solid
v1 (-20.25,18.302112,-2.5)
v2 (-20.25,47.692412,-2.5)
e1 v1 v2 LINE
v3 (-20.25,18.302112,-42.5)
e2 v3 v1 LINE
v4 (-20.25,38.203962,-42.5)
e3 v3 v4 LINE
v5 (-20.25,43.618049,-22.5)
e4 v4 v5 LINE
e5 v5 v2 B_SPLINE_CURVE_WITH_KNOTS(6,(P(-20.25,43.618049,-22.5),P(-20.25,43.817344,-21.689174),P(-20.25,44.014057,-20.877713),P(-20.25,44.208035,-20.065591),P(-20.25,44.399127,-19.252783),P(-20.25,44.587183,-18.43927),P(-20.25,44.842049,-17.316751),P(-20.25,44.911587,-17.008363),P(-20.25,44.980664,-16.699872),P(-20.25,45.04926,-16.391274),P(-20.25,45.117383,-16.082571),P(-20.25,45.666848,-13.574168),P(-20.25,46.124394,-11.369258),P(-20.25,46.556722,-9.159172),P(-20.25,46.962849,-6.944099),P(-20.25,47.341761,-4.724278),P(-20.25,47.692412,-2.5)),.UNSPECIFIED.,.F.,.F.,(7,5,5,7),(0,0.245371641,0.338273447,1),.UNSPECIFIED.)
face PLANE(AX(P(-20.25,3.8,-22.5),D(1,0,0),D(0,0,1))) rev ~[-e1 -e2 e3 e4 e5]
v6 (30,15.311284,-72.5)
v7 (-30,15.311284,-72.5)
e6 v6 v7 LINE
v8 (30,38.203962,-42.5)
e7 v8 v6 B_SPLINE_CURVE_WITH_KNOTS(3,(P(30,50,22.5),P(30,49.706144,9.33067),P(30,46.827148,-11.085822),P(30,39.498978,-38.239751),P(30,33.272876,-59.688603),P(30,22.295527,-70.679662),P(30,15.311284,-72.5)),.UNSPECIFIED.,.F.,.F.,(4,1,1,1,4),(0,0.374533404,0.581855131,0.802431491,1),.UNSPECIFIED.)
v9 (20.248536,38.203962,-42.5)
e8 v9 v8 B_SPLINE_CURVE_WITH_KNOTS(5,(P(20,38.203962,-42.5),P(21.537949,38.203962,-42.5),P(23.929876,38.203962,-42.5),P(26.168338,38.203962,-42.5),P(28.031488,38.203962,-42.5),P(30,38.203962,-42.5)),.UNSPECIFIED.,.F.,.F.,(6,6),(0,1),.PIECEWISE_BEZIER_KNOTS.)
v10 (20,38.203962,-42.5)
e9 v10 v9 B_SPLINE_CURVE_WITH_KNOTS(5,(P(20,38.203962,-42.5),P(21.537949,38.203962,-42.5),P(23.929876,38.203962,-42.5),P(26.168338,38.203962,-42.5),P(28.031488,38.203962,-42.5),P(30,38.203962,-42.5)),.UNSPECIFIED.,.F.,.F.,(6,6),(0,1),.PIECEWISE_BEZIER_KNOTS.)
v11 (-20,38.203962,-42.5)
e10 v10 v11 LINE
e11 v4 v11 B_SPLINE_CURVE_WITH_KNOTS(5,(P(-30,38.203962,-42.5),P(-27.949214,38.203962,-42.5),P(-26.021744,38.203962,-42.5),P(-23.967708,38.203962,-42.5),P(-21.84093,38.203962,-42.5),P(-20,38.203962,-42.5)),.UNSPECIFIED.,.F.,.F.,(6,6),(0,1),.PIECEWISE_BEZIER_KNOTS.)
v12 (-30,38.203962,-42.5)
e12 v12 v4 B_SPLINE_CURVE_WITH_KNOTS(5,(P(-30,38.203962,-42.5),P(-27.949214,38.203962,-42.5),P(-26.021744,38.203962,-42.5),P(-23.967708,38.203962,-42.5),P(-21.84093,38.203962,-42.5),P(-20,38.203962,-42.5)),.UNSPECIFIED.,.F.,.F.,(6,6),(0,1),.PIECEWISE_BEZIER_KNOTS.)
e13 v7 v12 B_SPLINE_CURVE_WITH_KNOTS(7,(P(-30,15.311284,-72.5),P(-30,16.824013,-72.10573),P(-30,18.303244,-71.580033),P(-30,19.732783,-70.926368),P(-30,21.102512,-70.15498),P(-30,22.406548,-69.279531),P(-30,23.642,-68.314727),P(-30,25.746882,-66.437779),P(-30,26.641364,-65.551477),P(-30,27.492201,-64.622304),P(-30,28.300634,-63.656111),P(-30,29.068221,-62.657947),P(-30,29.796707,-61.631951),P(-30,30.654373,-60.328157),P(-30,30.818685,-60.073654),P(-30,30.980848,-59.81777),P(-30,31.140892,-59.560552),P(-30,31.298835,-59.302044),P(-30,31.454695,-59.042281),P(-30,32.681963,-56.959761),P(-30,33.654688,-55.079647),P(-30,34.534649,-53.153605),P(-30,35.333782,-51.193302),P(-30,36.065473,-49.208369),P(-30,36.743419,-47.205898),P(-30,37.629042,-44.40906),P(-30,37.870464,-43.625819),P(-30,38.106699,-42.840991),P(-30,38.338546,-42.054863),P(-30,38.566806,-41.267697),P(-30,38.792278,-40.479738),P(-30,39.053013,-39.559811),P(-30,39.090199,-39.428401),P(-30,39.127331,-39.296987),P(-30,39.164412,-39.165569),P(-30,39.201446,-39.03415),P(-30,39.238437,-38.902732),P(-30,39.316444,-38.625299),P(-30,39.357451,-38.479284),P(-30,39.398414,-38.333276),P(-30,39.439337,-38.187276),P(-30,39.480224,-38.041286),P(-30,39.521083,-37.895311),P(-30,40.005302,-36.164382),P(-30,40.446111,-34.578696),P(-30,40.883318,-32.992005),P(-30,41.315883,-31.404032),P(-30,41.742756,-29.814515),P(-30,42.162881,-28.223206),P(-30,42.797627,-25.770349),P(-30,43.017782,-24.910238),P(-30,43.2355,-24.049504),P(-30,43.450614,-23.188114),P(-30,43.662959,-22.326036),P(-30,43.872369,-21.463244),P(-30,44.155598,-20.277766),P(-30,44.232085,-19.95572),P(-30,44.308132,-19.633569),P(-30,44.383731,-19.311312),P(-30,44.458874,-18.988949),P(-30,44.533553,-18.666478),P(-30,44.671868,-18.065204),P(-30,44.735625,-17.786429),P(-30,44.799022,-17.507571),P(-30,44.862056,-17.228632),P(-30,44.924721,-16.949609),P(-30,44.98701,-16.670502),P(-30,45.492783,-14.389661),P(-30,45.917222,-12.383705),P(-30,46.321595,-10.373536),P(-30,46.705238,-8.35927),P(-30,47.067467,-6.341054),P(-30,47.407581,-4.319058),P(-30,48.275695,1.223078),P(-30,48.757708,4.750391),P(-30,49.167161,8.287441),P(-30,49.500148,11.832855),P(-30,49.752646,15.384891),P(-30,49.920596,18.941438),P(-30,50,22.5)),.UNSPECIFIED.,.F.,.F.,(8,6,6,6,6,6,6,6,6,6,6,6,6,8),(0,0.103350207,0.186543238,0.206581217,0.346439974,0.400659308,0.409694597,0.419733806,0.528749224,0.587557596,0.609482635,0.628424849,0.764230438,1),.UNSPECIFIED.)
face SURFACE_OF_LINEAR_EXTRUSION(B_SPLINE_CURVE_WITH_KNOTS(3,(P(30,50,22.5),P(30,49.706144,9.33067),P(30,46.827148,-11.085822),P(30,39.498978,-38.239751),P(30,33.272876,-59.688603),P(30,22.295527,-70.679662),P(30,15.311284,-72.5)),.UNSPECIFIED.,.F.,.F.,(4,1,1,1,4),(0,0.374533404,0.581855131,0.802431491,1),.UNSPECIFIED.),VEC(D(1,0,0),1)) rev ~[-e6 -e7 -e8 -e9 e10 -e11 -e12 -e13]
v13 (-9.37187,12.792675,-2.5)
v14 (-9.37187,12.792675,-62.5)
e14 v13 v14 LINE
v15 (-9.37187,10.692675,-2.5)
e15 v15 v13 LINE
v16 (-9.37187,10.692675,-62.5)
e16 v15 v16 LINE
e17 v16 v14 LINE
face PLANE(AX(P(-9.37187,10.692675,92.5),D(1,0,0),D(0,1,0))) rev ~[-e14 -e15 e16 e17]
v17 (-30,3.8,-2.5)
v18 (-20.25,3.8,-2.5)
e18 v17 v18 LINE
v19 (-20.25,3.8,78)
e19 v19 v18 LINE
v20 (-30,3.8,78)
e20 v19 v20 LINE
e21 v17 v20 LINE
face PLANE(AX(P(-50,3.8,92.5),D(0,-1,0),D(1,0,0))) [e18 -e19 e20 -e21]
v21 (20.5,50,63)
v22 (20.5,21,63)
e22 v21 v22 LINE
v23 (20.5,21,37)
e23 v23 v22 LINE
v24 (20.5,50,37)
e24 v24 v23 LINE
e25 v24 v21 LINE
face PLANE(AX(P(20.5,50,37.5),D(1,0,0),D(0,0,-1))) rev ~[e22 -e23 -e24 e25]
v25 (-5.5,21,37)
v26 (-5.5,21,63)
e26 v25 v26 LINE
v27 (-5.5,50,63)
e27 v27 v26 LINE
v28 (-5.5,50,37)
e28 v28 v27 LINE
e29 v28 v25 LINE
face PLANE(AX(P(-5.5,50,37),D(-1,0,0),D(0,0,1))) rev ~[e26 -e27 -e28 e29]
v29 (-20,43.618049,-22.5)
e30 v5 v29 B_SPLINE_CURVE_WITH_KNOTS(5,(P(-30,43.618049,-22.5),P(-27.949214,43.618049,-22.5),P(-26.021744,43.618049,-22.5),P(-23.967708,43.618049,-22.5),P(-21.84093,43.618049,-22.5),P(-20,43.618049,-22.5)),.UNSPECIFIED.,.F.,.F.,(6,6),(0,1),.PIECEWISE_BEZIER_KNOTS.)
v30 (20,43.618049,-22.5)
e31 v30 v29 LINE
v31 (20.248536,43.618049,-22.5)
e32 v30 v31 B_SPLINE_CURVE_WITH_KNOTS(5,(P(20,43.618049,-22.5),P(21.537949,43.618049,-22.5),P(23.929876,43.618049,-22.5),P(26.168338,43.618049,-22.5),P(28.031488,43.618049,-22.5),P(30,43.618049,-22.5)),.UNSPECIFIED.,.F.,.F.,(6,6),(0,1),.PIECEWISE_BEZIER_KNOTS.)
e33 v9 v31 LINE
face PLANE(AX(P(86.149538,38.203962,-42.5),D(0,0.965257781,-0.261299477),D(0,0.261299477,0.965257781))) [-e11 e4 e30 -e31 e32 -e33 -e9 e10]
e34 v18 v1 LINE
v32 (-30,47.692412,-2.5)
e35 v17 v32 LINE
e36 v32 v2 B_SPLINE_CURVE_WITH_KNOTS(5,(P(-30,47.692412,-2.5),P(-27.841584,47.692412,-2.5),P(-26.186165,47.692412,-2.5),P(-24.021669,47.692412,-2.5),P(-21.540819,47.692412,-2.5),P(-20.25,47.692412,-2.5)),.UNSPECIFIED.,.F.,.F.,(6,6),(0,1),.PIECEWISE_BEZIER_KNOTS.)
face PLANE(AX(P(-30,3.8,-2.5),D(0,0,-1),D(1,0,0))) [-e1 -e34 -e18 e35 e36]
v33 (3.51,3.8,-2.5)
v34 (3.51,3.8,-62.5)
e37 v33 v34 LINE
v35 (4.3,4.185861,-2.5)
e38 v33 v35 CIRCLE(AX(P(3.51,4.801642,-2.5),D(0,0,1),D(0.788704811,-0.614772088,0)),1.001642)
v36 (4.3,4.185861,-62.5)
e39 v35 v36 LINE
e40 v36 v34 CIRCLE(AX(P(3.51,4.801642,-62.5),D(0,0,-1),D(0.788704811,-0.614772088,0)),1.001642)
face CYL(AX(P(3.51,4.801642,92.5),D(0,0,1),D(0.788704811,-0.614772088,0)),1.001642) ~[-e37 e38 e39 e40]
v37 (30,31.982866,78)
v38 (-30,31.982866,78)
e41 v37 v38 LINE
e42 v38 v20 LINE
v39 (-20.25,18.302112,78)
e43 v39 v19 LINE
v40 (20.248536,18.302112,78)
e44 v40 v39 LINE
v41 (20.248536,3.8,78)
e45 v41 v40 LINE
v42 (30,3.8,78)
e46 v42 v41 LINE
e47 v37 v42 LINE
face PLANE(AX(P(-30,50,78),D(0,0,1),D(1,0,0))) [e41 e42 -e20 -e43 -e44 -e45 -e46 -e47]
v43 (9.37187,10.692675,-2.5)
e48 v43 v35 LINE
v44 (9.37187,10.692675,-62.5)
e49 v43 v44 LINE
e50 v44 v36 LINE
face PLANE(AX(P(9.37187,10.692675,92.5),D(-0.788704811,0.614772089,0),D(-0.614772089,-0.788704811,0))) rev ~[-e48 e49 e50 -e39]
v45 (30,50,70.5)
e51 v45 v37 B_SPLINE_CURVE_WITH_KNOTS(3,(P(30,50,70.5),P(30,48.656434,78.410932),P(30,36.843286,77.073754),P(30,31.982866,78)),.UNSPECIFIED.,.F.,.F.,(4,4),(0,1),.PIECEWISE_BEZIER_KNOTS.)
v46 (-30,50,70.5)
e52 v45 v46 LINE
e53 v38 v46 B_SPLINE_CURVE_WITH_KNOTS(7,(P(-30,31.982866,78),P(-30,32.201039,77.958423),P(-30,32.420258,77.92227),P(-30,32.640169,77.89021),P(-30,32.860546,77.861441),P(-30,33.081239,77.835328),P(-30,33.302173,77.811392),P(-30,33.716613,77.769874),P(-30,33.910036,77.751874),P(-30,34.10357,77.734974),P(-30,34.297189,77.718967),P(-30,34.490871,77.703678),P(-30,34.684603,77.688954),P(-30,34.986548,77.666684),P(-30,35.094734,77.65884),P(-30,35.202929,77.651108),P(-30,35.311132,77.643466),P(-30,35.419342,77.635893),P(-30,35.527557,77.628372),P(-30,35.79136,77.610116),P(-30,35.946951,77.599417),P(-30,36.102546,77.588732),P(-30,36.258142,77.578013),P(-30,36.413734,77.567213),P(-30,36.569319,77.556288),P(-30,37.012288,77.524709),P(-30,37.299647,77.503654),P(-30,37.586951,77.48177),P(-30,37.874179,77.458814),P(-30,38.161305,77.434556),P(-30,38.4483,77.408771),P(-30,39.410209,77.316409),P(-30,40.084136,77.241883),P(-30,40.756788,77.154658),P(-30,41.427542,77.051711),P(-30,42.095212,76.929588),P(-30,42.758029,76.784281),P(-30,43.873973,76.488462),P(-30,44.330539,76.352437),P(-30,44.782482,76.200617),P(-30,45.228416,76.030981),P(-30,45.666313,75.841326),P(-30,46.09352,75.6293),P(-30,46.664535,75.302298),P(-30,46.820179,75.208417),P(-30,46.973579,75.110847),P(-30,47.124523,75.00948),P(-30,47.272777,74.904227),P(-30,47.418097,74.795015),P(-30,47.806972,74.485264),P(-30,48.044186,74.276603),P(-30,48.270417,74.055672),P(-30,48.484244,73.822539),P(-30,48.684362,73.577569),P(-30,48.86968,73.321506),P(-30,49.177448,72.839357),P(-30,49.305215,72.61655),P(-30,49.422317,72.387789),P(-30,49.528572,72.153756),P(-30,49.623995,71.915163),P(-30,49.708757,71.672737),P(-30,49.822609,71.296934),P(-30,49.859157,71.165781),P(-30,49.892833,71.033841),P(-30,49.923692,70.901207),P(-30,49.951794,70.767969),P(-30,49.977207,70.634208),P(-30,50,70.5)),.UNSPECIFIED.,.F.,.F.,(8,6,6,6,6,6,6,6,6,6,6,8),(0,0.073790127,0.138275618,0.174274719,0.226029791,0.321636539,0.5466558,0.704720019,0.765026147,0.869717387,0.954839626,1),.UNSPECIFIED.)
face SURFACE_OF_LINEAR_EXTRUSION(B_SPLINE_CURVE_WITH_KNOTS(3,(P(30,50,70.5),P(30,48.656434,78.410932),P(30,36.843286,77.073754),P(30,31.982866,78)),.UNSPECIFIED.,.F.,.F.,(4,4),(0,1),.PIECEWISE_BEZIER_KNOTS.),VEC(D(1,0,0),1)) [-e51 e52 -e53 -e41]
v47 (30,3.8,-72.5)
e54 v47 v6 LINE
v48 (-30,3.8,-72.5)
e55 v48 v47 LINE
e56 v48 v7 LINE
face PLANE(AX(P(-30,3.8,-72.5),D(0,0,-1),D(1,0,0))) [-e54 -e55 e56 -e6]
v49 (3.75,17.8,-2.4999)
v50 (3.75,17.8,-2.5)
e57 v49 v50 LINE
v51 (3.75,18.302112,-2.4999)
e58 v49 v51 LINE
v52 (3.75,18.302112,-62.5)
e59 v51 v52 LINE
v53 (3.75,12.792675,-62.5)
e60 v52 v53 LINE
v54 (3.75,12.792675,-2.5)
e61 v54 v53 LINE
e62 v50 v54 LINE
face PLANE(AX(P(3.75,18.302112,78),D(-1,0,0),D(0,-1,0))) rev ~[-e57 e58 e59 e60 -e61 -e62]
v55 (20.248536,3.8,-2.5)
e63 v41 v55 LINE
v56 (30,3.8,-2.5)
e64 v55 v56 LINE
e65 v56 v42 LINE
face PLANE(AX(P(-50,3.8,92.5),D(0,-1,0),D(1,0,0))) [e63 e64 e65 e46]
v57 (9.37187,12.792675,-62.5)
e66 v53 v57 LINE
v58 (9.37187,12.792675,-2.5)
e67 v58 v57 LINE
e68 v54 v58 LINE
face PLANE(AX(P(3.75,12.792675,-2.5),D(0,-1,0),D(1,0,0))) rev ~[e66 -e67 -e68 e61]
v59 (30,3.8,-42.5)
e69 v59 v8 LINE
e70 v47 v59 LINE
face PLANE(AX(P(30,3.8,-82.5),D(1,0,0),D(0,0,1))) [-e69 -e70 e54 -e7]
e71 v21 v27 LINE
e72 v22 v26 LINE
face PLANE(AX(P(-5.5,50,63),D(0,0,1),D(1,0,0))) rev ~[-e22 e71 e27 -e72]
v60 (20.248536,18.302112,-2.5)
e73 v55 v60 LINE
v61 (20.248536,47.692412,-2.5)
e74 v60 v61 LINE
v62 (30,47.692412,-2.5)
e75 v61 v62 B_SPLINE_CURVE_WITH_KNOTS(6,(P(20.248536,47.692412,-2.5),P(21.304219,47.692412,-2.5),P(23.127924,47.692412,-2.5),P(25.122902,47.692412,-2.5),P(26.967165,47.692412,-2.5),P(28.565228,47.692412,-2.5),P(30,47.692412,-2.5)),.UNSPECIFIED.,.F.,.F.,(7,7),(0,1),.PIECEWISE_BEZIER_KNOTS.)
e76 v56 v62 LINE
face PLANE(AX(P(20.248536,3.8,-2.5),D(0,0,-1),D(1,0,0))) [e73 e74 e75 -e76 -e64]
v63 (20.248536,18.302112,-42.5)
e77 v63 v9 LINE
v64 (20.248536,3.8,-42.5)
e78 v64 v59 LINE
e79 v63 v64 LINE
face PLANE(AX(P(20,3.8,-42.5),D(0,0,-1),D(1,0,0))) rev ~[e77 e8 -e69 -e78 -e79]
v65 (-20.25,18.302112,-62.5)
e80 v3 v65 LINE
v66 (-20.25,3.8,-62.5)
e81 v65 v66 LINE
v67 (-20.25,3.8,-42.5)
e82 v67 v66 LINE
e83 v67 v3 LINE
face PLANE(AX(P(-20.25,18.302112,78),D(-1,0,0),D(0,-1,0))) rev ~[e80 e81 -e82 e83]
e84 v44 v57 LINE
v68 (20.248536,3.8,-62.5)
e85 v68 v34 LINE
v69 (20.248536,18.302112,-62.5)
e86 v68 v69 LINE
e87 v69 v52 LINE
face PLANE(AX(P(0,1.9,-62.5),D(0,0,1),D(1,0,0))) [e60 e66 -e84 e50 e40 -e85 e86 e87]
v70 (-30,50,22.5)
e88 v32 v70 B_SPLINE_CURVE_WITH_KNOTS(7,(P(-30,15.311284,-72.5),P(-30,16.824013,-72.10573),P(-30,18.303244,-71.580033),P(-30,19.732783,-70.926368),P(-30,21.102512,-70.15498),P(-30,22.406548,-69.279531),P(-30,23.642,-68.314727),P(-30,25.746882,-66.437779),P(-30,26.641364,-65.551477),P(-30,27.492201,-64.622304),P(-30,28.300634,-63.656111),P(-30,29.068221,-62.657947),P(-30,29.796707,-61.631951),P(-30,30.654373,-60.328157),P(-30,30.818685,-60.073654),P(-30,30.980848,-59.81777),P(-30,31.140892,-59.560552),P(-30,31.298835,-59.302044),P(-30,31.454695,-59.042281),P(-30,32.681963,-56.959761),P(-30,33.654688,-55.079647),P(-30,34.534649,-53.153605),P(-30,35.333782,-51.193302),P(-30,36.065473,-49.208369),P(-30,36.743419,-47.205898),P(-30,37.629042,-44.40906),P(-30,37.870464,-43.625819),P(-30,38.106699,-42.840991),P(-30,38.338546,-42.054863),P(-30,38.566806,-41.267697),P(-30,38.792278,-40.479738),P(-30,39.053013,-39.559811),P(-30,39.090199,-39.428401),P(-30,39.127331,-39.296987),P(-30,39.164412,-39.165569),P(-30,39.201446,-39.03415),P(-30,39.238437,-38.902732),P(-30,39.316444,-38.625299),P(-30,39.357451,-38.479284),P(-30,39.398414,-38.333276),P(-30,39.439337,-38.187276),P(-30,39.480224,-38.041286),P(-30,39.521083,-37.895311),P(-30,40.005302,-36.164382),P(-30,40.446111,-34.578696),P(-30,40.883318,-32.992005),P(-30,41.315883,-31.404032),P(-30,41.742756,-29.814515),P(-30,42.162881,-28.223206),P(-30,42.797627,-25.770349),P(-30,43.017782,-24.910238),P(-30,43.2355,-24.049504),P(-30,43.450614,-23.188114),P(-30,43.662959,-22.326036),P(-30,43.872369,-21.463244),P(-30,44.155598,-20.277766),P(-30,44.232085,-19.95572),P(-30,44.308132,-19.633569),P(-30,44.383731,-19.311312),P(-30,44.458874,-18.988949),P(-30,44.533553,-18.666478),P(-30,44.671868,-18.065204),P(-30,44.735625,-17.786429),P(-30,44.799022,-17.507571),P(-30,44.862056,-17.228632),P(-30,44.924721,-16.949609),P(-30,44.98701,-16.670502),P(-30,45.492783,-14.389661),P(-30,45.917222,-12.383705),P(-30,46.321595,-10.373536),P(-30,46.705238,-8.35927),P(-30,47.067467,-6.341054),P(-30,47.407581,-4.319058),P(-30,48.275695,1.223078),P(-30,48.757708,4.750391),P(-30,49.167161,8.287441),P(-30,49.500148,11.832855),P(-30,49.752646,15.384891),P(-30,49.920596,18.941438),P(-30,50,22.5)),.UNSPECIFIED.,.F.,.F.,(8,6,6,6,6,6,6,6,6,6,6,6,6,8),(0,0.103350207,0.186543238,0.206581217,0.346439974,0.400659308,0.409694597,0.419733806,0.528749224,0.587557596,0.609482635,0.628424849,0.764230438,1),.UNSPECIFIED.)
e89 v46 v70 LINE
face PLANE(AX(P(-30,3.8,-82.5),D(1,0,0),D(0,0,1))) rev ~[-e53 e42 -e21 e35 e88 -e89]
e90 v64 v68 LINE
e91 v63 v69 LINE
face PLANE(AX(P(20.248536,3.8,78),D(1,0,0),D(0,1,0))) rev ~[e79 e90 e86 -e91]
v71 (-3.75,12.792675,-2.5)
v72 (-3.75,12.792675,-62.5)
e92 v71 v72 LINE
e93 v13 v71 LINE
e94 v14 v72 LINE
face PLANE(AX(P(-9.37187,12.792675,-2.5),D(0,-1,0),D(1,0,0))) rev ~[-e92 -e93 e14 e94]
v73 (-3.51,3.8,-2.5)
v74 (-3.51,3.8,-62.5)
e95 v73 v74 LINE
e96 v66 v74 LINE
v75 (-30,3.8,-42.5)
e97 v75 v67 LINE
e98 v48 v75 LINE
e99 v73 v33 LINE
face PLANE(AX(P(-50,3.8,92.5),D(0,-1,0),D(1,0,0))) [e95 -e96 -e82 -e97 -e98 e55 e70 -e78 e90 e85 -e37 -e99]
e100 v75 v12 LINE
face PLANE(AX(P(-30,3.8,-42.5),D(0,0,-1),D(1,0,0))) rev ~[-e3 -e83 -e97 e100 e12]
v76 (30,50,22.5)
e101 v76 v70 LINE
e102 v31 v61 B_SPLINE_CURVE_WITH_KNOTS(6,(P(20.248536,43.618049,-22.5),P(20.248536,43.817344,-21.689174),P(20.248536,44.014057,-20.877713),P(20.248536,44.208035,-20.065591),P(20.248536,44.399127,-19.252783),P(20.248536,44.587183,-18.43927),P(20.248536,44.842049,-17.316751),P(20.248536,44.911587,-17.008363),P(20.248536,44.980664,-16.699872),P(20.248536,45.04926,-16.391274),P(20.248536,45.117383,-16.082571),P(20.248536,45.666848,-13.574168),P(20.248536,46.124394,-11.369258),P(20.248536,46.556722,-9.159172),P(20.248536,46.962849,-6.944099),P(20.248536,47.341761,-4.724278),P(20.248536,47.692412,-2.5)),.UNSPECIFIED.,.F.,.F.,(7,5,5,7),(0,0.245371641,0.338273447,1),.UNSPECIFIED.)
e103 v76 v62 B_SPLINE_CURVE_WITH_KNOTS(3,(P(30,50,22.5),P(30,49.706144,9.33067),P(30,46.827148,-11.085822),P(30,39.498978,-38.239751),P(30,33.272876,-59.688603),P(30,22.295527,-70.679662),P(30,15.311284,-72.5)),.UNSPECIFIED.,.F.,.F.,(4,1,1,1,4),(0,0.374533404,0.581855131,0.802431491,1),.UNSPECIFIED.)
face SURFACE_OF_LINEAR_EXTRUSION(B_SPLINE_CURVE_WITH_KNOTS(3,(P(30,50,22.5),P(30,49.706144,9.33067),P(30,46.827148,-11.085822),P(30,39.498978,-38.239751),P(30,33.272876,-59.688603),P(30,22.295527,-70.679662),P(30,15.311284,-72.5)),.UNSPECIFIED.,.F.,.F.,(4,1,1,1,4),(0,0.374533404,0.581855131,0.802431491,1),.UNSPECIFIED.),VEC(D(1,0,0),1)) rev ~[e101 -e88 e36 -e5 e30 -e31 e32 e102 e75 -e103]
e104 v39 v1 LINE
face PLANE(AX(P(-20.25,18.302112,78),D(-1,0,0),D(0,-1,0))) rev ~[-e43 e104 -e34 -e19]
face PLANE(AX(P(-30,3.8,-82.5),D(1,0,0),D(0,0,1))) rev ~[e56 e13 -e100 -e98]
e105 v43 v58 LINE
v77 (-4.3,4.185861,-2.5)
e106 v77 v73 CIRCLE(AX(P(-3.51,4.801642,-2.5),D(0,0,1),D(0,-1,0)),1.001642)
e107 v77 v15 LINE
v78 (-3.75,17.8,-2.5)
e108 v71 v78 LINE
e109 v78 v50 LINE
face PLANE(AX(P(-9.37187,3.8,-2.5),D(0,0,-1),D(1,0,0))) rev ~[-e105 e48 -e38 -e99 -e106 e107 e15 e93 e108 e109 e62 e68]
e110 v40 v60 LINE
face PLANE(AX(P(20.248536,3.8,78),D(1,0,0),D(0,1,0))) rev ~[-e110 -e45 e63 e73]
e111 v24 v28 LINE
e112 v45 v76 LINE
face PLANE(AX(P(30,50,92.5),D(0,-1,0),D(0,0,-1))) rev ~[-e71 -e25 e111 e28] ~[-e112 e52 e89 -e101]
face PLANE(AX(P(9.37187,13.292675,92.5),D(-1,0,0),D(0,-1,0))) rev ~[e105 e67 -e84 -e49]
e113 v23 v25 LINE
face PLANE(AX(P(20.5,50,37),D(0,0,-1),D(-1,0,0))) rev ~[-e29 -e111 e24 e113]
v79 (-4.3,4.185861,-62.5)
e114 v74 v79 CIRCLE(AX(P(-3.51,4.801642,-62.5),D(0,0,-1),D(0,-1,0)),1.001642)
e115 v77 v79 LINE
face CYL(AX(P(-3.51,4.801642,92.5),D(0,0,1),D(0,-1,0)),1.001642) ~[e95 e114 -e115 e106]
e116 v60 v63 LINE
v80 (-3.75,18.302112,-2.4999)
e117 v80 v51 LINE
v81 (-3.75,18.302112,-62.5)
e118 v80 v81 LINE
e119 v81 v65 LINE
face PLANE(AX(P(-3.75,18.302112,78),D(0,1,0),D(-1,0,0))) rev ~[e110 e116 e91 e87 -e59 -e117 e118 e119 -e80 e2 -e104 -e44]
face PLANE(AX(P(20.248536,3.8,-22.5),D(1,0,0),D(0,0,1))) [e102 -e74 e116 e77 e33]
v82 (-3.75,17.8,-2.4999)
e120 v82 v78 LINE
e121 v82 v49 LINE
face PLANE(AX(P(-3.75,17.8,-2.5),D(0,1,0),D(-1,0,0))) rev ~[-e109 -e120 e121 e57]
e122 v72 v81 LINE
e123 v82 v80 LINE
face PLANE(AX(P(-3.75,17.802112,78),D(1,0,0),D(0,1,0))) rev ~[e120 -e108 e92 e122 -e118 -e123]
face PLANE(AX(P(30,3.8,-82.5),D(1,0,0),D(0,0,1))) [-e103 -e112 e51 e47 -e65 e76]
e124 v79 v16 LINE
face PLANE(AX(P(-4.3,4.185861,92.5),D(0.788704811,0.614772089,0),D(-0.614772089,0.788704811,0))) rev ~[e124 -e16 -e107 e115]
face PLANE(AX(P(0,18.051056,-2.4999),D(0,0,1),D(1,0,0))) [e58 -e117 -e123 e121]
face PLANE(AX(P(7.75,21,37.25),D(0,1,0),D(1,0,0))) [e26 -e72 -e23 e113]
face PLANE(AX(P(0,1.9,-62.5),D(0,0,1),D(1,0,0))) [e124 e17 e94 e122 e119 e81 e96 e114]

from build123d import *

# Parameters (mm, degrees)
SKETCH_1_W                = 100
SKETCH_1_H                = 185
EXTRUDE_1_DEPTH           = 100
SKETCH_2_W                = 100
SKETCH_2_H                = 3.8
CUT_EXTRUDE_1_DEPTH       = 155
CUT_EXTRUDE_2_DEPTH       = 155
SKETCH_4_W                = 25.5
SKETCH_4_H                = 25.5
CUT_EXTRUDE_3_DEPTH       = 79
SKETCH_6_W                = 89.706259743
SKETCH_6_H                = 10
SKETCH_6_W_2              = 10.293740257
CUT_EXTRUDE_4_DEPTH       = 146.107718609
CUT_EXTRUDE_5_DEPTH       = 169.985946161
CUT_EXTRUDE_5_DEPTH_BACK  = 169.985946161
SKETCH_7_W                = 20
SKETCH_7_H                = 3.8
EXTRUDE_4_DEPTH           = 160
SKETCH_10_W               = 16
SKETCH_10_H               = 1.8
CUT_EXTRUDE_6_DEPTH       = 155
SKETCH_13_W               = 20
SKETCH_13_H               = 175
CUT_EXTRUDE_7_DEPTH       = 143.515578096
SKETCH_14_W               = 175
SKETCH_14_H               = 50
CUT_EXTRUDE_8_DEPTH       = 149.849756466
SKETCH_15_W               = 60
SKETCH_15_H               = 10
CUT_EXTRUDE_9_DEPTH       = 108.660066877
SKETCH_16_W               = 60
SKETCH_16_H               = 14.5
CUT_EXTRUDE_10_DEPTH      = 108.660066877
CUT_EXTRUDE_11_DEPTH      = 111.381157812
CUT_EXTRUDE_21_DEPTH      = 162.400898529
CUT_EXTRUDE_21_DEPTH_BACK = 140.5
CUT_EXTRUDE_26_DEPTH      = 111.381157983
SKETCH_34_W               = 10
SKETCH_34_H               = 20
CUT_EXTRUDE_31_DEPTH      = 96.490523251
SKETCH_35_W               = 18.74373947
SKETCH_35_H               = 80.5
CUT_EXTRUDE_32_DEPTH      = 14
CUT_EXTRUDE_35_DEPTH      = 60
CUT_EXTRUDE_36_DEPTH      = 140.5
SKETCH_43_W               = 0.25
SKETCH_43_H               = 0.002112168
CUT_EXTRUDE_37_DEPTH      = 140.5
SKETCH_44_W               = 7.5
SKETCH_44_H               = 0.502112168
CUT_EXTRUDE_38_DEPTH      = 80.4999
SKETCH_45_W               = 9.75
SKETCH_45_H               = 20
SKETCH_45_W_2             = 9.75146362
CUT_EXTRUDE_39_DEPTH      = 96.490523251
SKETCH_46_W               = 0.24853638
SKETCH_46_H               = 20
SKETCH_46_W_2             = 0.25
EXTRUDE_5_DEPTH           = 31.697888
CUT_EXTRUDE_40_DEPTH      = 106.399537724
CUT_EXTRUDE_40_DEPTH_BACK = 106.399537724
SKETCH_54_W               = 25.5
SKETCH_54_H               = 0.5
CUT_EXTRUDE_41_DEPTH      = 29


with BuildPart() as part:
    # 草图1 → 凸台-拉伸1 (new body)
    with BuildSketch(Plane(origin=(0, 0, 0), x_dir=(1, 0, 0), z_dir=(0, 1, 0))):
        Rectangle(SKETCH_1_W, SKETCH_1_H)
    extrude(amount=EXTRUDE_1_DEPTH)

    # 草图2 → 切除-拉伸1 (cut)
    with BuildSketch(Plane.XY.offset(92.5)):
        with Locations((0, 1.9)):
            Rectangle(SKETCH_2_W, SKETCH_2_H)
    extrude(amount=-CUT_EXTRUDE_1_DEPTH, mode=Mode.SUBTRACT)

    # 草图3 → 切除-拉伸2 (cut)
    with BuildSketch(Plane.XY.offset(92.5)):
        with BuildLine():
            Line((-20, 3.8), (-3.51, 3.8))
            ThreePointArc((-3.51, 3.8), (-3.949598778, 3.901619975), (-4.3, 4.185860522))
            Line((-4.3, 4.185860522), (-9.371869735, 10.69267521))
            ThreePointArc((-9.371869735, 10.69267521), (-9.267749528, 11.143089764), (-8.9765156, 11.502112168))
            Line((-8.9765156, 11.502112168), (-4.5, 11.502112168))
            ThreePointArc((-4.5, 11.502112168), (-4.146446609, 11.648558777), (-4, 12.002112168))
            Line((-4, 12.002112168), (-4, 16.002112168))
            Line((-4, 16.002112168), (-20, 16.002112168))
            Line((-20, 16.002112168), (-20, 3.8))
        make_face()
        with BuildLine():
            ThreePointArc((4.3, 4.185860522), (3.949598778, 3.901619975), (3.51, 3.8))
            Line((3.51, 3.8), (20, 3.8))
            Line((20, 3.8), (20, 16.002112168))
            Line((20, 16.002112168), (4, 16.002112168))
            Line((4, 16.002112168), (4, 12.002112168))
            ThreePointArc((4, 12.002112168), (4.146446609, 11.648558777), (4.5, 11.502112168))
            Line((4.5, 11.502112168), (8.9765156, 11.502112168))
            ThreePointArc((8.9765156, 11.502112168), (9.426930154, 11.220838522), (9.371869735, 10.69267521))
            Line((9.371869735, 10.69267521), (4.3, 4.185860522))
        make_face()
    extrude(amount=-CUT_EXTRUDE_2_DEPTH, mode=Mode.SUBTRACT)

    # 草图4 → 切除-拉伸3 (cut)
    with BuildSketch(Plane(origin=(0, 100, 0), x_dir=(1, 0, 0), z_dir=(0, 1, 0))):
        with Locations((7.75, -50.25)):
            Rectangle(SKETCH_4_W, SKETCH_4_H)
    extrude(amount=-CUT_EXTRUDE_3_DEPTH, mode=Mode.SUBTRACT)

    # 草图6 → 切除-拉伸4 (cut, through all)
    with BuildSketch(Plane(origin=(0, 100, 0), x_dir=(1, 0, 0), z_dir=(0, 1, 0))):
        with Locations((5.146870128, 87.5)):
            Rectangle(SKETCH_6_W, SKETCH_6_H)
        with Locations((-44.853129872, 87.5)):
            Rectangle(SKETCH_6_W_2, SKETCH_6_H)
    extrude(amount=-CUT_EXTRUDE_4_DEPTH, mode=Mode.SUBTRACT)

    # 草图7 → 切除-拉伸5 (cut, two sides: drawn at the far end of the back side and taken through both)
    with BuildSketch(Plane.ZY.offset(50).offset(-CUT_EXTRUDE_5_DEPTH_BACK)):
        with Locations((-72.5, 1.9)):
            Rectangle(SKETCH_7_W, SKETCH_7_H)
    extrude(amount=CUT_EXTRUDE_5_DEPTH + CUT_EXTRUDE_5_DEPTH_BACK, mode=Mode.SUBTRACT)

    # 草图9 → 凸台-拉伸4 (add)
    with BuildSketch(Plane.XY.offset(92.5)):
        Polygon((-9.371869735, 10.69267521), (-9.371869735, 13.29267521), (-4, 13.29267521), (4, 13.29267521), (9.371869735, 13.29267521), (9.371869735, 10.69267521), align=None)
    extrude(amount=-EXTRUDE_4_DEPTH)

    # 草图10 → 切除-拉伸6 (cut)
    with BuildSketch(Plane.XY.offset(92.5)):
        with Locations((-12, 16.902112168)):
            Rectangle(SKETCH_10_W, SKETCH_10_H)
        Polygon((4, 16.002112168), (4, 17.802112168), (19.99853638, 17.802112168), (20, 16.002112168), align=None)
    extrude(amount=-CUT_EXTRUDE_6_DEPTH, mode=Mode.SUBTRACT)

    # 草图13 → 切除-拉伸7 (cut, through all)
    with BuildSketch(Plane.XZ.offset(-3.8)):
        with Locations((-40, 5)):
            Rectangle(SKETCH_13_W, SKETCH_13_H)
        with Locations((40, 5)):
            Rectangle(SKETCH_13_W, SKETCH_13_H)
    extrude(amount=-CUT_EXTRUDE_7_DEPTH, mode=Mode.SUBTRACT)

    # 草图14 → 切除-拉伸8 (cut, through all)
    with BuildSketch(Plane(origin=(30, 0, 0), x_dir=(0, 0, -1), z_dir=(1, 0, 0))):
        with Locations((-5, 75)):
            Rectangle(SKETCH_14_W, SKETCH_14_H)
    extrude(amount=-CUT_EXTRUDE_8_DEPTH, mode=Mode.SUBTRACT)

    # 草图15 → 切除-拉伸9 (cut, through all)
    with BuildSketch(Plane.XZ.offset(-3.8)):
        with Locations((0, -77.5)):
            Rectangle(SKETCH_15_W, SKETCH_15_H)
    extrude(amount=-CUT_EXTRUDE_9_DEPTH, mode=Mode.SUBTRACT)

    # 草图16 → 切除-拉伸10 (cut, through all)
    with BuildSketch(Plane(origin=(0, 50, 0), x_dir=(1, 0, 0), z_dir=(0, 1, 0))):
        with Locations((0, -85.25)):
            Rectangle(SKETCH_16_W, SKETCH_16_H)
    extrude(amount=-CUT_EXTRUDE_10_DEPTH, mode=Mode.SUBTRACT)

    # 草图17 → 切除-拉伸11 (cut, through all)
    with BuildSketch(Plane(origin=(30, 0, 0), x_dir=(0, 0, -1), z_dir=(1, 0, 0))):
        with BuildLine():
            Line((72.5, 50), (-22.5, 50))
            add(Edge.make_bspline(
                [(-22.5, 50), (-9.330669895, 49.706144403), (11.085821801, 46.827148239), (38.239751221, 39.498978447), (59.688603115, 33.272875951), (70.679662454, 22.295526596), (72.5, 15.311284203)],
                knots=[0, 0, 0, 0, 0.374533404, 0.581855131, 0.802431491, 1, 1, 1, 1], degree=3))
            Line((72.5, 15.311284203), (72.5, 50))
        make_face()
    extrude(amount=-CUT_EXTRUDE_11_DEPTH, mode=Mode.SUBTRACT)

    # 草图24 → 切除-拉伸21 (cut, two sides: drawn at the far end of the back side and taken through both)
    with BuildSketch(Plane.XY.offset(78).offset(-CUT_EXTRUDE_21_DEPTH_BACK)):
        with BuildLine():
            Line((9.371869735, 11.309008937), (9.371869735, 10.69267521))
            ThreePointArc((9.371869735, 10.69267521), (9.477785695, 11.000842073), (9.371869735, 11.309008937))
        make_face()
    extrude(amount=CUT_EXTRUDE_21_DEPTH + CUT_EXTRUDE_21_DEPTH_BACK, mode=Mode.SUBTRACT)

    # 草图28 → 切除-拉伸26 (cut, through all)
    with BuildSketch(Plane(origin=(30, 0, 0), x_dir=(0, 0, -1), z_dir=(1, 0, 0))):
        with BuildLine():
            Line((-70.5, 50), (-78, 50))
            Line((-78, 50), (-78, 31.982866201))
            add(Edge.make_bspline(
                [(-70.5, 50), (-78.410932033, 48.656434308), (-77.0737544, 36.843285786), (-78, 31.982866201)],
                knots=[0, 0, 0, 0, 1, 1, 1, 1], degree=3))
        make_face()
    extrude(amount=-CUT_EXTRUDE_26_DEPTH, mode=Mode.SUBTRACT)

    # 草图34 → 切除-拉伸31 (cut, through all)
    with BuildSketch(Plane.XZ.offset(-3.8)):
        with Locations((-25, -32.5)):
            Rectangle(SKETCH_34_W, SKETCH_34_H)
        with Locations((25, -32.5)):
            Rectangle(SKETCH_34_W, SKETCH_34_H)
    extrude(amount=-CUT_EXTRUDE_31_DEPTH, mode=Mode.SUBTRACT)

    # 草图35 → 切除-拉伸32 (cut)
    with BuildSketch(Plane.XZ.offset(-3.8)):
        with Locations((0, 37.75)):
            Rectangle(SKETCH_35_W, SKETCH_35_H)
    extrude(amount=-CUT_EXTRUDE_32_DEPTH, mode=Mode.SUBTRACT)

    # 草图40 → 切除-拉伸35 (cut)
    with BuildSketch(Plane.XY.offset(-2.5)):
        Polygon((4, 13.29267521), (4, 17.8), (3.75, 17.8), (3.75, 12.79267521), (9.371869735, 12.79267521), (9.371869735, 13.29267521), align=None)
        Polygon((-3.75, 17.8), (-4, 17.8), (-4, 13.29267521), (-9.371869735, 13.29267521), (-9.371869735, 12.79267521), (-3.75, 12.79267521), align=None)
    extrude(amount=-CUT_EXTRUDE_35_DEPTH, mode=Mode.SUBTRACT)

    # 草图41 → 切除-拉伸36 (cut)
    with BuildSketch(Plane.XY.offset(78)):
        Polygon((-3.75, 18.302112168), (-20.25, 18.302112168), (-20.25, 3.8), (-20, 3.8), (-20, 17.802112168), (-3.75, 17.802112168), align=None)
        Polygon((3.75, 18.302112168), (3.75, 17.802112168), (19.99853638, 17.802112168), (19.99853638, 3.8), (20.24853638, 3.8), (20.24853638, 18.302112168), align=None)
    extrude(amount=-CUT_EXTRUDE_36_DEPTH, mode=Mode.SUBTRACT)

    # 草图43 → 切除-拉伸37 (cut)
    with BuildSketch(Plane.XY.offset(78)):
        with Locations((-3.875, 17.801056084)):
            Rectangle(SKETCH_43_W, SKETCH_43_H)
        with Locations((3.875, 17.801056084)):
            Rectangle(SKETCH_43_W, SKETCH_43_H)
    extrude(amount=-CUT_EXTRUDE_37_DEPTH, mode=Mode.SUBTRACT)

    # 草图44 → 切除-拉伸38 (cut)
    with BuildSketch(Plane.XY.offset(78)):
        with Locations((0, 18.051056084)):
            Rectangle(SKETCH_44_W, SKETCH_44_H)
    extrude(amount=-CUT_EXTRUDE_38_DEPTH, mode=Mode.SUBTRACT)

    # 草图45 → 切除-拉伸39 (cut, through all)
    with BuildSketch(Plane.XZ.offset(-3.8)):
        with Locations((-25.125, -12.5)):
            Rectangle(SKETCH_45_W, SKETCH_45_H)
        with Locations((25.12426819, -12.5)):
            Rectangle(SKETCH_45_W_2, SKETCH_45_H)
    extrude(amount=-CUT_EXTRUDE_39_DEPTH, mode=Mode.SUBTRACT)

    # 草图46 → 凸台-拉伸5 (add, through all)
    with BuildSketch(Plane.XZ.offset(-18.302112168)):
        with Locations((20.12426819, -32.5)):
            Rectangle(SKETCH_46_W, SKETCH_46_H)
        with Locations((-20.125, -32.5)):
            Rectangle(SKETCH_46_W_2, SKETCH_46_H)
    extrude(amount=-EXTRUDE_5_DEPTH)

    # 草图47 → 切除-拉伸40 (cut, two sides: drawn at the far end of the back side and taken through both)
    with BuildSketch(Plane.ZY.offset(20.25).offset(-CUT_EXTRUDE_40_DEPTH_BACK)):
        Polygon((-42.5, 38.203961841), (-22.5, 43.618048783), (-22.5, 50), (-42.5, 50), align=None)
    extrude(amount=CUT_EXTRUDE_40_DEPTH + CUT_EXTRUDE_40_DEPTH_BACK, mode=Mode.SUBTRACT)

    # 草图54 → 切除-拉伸41 (cut)
    with BuildSketch(Plane(origin=(0, 50, 0), x_dir=(1, 0, 0), z_dir=(0, 1, 0))):
        with Locations((7.75, -37.25)):
            Rectangle(SKETCH_54_W, SKETCH_54_H)
        Polygon((-5, -63), (-5, -37.5), (-5, -37), (-5.5, -37), (-5.5, -63), align=None)
    extrude(amount=-CUT_EXTRUDE_41_DEPTH, mode=Mode.SUBTRACT)


solid = part.part
